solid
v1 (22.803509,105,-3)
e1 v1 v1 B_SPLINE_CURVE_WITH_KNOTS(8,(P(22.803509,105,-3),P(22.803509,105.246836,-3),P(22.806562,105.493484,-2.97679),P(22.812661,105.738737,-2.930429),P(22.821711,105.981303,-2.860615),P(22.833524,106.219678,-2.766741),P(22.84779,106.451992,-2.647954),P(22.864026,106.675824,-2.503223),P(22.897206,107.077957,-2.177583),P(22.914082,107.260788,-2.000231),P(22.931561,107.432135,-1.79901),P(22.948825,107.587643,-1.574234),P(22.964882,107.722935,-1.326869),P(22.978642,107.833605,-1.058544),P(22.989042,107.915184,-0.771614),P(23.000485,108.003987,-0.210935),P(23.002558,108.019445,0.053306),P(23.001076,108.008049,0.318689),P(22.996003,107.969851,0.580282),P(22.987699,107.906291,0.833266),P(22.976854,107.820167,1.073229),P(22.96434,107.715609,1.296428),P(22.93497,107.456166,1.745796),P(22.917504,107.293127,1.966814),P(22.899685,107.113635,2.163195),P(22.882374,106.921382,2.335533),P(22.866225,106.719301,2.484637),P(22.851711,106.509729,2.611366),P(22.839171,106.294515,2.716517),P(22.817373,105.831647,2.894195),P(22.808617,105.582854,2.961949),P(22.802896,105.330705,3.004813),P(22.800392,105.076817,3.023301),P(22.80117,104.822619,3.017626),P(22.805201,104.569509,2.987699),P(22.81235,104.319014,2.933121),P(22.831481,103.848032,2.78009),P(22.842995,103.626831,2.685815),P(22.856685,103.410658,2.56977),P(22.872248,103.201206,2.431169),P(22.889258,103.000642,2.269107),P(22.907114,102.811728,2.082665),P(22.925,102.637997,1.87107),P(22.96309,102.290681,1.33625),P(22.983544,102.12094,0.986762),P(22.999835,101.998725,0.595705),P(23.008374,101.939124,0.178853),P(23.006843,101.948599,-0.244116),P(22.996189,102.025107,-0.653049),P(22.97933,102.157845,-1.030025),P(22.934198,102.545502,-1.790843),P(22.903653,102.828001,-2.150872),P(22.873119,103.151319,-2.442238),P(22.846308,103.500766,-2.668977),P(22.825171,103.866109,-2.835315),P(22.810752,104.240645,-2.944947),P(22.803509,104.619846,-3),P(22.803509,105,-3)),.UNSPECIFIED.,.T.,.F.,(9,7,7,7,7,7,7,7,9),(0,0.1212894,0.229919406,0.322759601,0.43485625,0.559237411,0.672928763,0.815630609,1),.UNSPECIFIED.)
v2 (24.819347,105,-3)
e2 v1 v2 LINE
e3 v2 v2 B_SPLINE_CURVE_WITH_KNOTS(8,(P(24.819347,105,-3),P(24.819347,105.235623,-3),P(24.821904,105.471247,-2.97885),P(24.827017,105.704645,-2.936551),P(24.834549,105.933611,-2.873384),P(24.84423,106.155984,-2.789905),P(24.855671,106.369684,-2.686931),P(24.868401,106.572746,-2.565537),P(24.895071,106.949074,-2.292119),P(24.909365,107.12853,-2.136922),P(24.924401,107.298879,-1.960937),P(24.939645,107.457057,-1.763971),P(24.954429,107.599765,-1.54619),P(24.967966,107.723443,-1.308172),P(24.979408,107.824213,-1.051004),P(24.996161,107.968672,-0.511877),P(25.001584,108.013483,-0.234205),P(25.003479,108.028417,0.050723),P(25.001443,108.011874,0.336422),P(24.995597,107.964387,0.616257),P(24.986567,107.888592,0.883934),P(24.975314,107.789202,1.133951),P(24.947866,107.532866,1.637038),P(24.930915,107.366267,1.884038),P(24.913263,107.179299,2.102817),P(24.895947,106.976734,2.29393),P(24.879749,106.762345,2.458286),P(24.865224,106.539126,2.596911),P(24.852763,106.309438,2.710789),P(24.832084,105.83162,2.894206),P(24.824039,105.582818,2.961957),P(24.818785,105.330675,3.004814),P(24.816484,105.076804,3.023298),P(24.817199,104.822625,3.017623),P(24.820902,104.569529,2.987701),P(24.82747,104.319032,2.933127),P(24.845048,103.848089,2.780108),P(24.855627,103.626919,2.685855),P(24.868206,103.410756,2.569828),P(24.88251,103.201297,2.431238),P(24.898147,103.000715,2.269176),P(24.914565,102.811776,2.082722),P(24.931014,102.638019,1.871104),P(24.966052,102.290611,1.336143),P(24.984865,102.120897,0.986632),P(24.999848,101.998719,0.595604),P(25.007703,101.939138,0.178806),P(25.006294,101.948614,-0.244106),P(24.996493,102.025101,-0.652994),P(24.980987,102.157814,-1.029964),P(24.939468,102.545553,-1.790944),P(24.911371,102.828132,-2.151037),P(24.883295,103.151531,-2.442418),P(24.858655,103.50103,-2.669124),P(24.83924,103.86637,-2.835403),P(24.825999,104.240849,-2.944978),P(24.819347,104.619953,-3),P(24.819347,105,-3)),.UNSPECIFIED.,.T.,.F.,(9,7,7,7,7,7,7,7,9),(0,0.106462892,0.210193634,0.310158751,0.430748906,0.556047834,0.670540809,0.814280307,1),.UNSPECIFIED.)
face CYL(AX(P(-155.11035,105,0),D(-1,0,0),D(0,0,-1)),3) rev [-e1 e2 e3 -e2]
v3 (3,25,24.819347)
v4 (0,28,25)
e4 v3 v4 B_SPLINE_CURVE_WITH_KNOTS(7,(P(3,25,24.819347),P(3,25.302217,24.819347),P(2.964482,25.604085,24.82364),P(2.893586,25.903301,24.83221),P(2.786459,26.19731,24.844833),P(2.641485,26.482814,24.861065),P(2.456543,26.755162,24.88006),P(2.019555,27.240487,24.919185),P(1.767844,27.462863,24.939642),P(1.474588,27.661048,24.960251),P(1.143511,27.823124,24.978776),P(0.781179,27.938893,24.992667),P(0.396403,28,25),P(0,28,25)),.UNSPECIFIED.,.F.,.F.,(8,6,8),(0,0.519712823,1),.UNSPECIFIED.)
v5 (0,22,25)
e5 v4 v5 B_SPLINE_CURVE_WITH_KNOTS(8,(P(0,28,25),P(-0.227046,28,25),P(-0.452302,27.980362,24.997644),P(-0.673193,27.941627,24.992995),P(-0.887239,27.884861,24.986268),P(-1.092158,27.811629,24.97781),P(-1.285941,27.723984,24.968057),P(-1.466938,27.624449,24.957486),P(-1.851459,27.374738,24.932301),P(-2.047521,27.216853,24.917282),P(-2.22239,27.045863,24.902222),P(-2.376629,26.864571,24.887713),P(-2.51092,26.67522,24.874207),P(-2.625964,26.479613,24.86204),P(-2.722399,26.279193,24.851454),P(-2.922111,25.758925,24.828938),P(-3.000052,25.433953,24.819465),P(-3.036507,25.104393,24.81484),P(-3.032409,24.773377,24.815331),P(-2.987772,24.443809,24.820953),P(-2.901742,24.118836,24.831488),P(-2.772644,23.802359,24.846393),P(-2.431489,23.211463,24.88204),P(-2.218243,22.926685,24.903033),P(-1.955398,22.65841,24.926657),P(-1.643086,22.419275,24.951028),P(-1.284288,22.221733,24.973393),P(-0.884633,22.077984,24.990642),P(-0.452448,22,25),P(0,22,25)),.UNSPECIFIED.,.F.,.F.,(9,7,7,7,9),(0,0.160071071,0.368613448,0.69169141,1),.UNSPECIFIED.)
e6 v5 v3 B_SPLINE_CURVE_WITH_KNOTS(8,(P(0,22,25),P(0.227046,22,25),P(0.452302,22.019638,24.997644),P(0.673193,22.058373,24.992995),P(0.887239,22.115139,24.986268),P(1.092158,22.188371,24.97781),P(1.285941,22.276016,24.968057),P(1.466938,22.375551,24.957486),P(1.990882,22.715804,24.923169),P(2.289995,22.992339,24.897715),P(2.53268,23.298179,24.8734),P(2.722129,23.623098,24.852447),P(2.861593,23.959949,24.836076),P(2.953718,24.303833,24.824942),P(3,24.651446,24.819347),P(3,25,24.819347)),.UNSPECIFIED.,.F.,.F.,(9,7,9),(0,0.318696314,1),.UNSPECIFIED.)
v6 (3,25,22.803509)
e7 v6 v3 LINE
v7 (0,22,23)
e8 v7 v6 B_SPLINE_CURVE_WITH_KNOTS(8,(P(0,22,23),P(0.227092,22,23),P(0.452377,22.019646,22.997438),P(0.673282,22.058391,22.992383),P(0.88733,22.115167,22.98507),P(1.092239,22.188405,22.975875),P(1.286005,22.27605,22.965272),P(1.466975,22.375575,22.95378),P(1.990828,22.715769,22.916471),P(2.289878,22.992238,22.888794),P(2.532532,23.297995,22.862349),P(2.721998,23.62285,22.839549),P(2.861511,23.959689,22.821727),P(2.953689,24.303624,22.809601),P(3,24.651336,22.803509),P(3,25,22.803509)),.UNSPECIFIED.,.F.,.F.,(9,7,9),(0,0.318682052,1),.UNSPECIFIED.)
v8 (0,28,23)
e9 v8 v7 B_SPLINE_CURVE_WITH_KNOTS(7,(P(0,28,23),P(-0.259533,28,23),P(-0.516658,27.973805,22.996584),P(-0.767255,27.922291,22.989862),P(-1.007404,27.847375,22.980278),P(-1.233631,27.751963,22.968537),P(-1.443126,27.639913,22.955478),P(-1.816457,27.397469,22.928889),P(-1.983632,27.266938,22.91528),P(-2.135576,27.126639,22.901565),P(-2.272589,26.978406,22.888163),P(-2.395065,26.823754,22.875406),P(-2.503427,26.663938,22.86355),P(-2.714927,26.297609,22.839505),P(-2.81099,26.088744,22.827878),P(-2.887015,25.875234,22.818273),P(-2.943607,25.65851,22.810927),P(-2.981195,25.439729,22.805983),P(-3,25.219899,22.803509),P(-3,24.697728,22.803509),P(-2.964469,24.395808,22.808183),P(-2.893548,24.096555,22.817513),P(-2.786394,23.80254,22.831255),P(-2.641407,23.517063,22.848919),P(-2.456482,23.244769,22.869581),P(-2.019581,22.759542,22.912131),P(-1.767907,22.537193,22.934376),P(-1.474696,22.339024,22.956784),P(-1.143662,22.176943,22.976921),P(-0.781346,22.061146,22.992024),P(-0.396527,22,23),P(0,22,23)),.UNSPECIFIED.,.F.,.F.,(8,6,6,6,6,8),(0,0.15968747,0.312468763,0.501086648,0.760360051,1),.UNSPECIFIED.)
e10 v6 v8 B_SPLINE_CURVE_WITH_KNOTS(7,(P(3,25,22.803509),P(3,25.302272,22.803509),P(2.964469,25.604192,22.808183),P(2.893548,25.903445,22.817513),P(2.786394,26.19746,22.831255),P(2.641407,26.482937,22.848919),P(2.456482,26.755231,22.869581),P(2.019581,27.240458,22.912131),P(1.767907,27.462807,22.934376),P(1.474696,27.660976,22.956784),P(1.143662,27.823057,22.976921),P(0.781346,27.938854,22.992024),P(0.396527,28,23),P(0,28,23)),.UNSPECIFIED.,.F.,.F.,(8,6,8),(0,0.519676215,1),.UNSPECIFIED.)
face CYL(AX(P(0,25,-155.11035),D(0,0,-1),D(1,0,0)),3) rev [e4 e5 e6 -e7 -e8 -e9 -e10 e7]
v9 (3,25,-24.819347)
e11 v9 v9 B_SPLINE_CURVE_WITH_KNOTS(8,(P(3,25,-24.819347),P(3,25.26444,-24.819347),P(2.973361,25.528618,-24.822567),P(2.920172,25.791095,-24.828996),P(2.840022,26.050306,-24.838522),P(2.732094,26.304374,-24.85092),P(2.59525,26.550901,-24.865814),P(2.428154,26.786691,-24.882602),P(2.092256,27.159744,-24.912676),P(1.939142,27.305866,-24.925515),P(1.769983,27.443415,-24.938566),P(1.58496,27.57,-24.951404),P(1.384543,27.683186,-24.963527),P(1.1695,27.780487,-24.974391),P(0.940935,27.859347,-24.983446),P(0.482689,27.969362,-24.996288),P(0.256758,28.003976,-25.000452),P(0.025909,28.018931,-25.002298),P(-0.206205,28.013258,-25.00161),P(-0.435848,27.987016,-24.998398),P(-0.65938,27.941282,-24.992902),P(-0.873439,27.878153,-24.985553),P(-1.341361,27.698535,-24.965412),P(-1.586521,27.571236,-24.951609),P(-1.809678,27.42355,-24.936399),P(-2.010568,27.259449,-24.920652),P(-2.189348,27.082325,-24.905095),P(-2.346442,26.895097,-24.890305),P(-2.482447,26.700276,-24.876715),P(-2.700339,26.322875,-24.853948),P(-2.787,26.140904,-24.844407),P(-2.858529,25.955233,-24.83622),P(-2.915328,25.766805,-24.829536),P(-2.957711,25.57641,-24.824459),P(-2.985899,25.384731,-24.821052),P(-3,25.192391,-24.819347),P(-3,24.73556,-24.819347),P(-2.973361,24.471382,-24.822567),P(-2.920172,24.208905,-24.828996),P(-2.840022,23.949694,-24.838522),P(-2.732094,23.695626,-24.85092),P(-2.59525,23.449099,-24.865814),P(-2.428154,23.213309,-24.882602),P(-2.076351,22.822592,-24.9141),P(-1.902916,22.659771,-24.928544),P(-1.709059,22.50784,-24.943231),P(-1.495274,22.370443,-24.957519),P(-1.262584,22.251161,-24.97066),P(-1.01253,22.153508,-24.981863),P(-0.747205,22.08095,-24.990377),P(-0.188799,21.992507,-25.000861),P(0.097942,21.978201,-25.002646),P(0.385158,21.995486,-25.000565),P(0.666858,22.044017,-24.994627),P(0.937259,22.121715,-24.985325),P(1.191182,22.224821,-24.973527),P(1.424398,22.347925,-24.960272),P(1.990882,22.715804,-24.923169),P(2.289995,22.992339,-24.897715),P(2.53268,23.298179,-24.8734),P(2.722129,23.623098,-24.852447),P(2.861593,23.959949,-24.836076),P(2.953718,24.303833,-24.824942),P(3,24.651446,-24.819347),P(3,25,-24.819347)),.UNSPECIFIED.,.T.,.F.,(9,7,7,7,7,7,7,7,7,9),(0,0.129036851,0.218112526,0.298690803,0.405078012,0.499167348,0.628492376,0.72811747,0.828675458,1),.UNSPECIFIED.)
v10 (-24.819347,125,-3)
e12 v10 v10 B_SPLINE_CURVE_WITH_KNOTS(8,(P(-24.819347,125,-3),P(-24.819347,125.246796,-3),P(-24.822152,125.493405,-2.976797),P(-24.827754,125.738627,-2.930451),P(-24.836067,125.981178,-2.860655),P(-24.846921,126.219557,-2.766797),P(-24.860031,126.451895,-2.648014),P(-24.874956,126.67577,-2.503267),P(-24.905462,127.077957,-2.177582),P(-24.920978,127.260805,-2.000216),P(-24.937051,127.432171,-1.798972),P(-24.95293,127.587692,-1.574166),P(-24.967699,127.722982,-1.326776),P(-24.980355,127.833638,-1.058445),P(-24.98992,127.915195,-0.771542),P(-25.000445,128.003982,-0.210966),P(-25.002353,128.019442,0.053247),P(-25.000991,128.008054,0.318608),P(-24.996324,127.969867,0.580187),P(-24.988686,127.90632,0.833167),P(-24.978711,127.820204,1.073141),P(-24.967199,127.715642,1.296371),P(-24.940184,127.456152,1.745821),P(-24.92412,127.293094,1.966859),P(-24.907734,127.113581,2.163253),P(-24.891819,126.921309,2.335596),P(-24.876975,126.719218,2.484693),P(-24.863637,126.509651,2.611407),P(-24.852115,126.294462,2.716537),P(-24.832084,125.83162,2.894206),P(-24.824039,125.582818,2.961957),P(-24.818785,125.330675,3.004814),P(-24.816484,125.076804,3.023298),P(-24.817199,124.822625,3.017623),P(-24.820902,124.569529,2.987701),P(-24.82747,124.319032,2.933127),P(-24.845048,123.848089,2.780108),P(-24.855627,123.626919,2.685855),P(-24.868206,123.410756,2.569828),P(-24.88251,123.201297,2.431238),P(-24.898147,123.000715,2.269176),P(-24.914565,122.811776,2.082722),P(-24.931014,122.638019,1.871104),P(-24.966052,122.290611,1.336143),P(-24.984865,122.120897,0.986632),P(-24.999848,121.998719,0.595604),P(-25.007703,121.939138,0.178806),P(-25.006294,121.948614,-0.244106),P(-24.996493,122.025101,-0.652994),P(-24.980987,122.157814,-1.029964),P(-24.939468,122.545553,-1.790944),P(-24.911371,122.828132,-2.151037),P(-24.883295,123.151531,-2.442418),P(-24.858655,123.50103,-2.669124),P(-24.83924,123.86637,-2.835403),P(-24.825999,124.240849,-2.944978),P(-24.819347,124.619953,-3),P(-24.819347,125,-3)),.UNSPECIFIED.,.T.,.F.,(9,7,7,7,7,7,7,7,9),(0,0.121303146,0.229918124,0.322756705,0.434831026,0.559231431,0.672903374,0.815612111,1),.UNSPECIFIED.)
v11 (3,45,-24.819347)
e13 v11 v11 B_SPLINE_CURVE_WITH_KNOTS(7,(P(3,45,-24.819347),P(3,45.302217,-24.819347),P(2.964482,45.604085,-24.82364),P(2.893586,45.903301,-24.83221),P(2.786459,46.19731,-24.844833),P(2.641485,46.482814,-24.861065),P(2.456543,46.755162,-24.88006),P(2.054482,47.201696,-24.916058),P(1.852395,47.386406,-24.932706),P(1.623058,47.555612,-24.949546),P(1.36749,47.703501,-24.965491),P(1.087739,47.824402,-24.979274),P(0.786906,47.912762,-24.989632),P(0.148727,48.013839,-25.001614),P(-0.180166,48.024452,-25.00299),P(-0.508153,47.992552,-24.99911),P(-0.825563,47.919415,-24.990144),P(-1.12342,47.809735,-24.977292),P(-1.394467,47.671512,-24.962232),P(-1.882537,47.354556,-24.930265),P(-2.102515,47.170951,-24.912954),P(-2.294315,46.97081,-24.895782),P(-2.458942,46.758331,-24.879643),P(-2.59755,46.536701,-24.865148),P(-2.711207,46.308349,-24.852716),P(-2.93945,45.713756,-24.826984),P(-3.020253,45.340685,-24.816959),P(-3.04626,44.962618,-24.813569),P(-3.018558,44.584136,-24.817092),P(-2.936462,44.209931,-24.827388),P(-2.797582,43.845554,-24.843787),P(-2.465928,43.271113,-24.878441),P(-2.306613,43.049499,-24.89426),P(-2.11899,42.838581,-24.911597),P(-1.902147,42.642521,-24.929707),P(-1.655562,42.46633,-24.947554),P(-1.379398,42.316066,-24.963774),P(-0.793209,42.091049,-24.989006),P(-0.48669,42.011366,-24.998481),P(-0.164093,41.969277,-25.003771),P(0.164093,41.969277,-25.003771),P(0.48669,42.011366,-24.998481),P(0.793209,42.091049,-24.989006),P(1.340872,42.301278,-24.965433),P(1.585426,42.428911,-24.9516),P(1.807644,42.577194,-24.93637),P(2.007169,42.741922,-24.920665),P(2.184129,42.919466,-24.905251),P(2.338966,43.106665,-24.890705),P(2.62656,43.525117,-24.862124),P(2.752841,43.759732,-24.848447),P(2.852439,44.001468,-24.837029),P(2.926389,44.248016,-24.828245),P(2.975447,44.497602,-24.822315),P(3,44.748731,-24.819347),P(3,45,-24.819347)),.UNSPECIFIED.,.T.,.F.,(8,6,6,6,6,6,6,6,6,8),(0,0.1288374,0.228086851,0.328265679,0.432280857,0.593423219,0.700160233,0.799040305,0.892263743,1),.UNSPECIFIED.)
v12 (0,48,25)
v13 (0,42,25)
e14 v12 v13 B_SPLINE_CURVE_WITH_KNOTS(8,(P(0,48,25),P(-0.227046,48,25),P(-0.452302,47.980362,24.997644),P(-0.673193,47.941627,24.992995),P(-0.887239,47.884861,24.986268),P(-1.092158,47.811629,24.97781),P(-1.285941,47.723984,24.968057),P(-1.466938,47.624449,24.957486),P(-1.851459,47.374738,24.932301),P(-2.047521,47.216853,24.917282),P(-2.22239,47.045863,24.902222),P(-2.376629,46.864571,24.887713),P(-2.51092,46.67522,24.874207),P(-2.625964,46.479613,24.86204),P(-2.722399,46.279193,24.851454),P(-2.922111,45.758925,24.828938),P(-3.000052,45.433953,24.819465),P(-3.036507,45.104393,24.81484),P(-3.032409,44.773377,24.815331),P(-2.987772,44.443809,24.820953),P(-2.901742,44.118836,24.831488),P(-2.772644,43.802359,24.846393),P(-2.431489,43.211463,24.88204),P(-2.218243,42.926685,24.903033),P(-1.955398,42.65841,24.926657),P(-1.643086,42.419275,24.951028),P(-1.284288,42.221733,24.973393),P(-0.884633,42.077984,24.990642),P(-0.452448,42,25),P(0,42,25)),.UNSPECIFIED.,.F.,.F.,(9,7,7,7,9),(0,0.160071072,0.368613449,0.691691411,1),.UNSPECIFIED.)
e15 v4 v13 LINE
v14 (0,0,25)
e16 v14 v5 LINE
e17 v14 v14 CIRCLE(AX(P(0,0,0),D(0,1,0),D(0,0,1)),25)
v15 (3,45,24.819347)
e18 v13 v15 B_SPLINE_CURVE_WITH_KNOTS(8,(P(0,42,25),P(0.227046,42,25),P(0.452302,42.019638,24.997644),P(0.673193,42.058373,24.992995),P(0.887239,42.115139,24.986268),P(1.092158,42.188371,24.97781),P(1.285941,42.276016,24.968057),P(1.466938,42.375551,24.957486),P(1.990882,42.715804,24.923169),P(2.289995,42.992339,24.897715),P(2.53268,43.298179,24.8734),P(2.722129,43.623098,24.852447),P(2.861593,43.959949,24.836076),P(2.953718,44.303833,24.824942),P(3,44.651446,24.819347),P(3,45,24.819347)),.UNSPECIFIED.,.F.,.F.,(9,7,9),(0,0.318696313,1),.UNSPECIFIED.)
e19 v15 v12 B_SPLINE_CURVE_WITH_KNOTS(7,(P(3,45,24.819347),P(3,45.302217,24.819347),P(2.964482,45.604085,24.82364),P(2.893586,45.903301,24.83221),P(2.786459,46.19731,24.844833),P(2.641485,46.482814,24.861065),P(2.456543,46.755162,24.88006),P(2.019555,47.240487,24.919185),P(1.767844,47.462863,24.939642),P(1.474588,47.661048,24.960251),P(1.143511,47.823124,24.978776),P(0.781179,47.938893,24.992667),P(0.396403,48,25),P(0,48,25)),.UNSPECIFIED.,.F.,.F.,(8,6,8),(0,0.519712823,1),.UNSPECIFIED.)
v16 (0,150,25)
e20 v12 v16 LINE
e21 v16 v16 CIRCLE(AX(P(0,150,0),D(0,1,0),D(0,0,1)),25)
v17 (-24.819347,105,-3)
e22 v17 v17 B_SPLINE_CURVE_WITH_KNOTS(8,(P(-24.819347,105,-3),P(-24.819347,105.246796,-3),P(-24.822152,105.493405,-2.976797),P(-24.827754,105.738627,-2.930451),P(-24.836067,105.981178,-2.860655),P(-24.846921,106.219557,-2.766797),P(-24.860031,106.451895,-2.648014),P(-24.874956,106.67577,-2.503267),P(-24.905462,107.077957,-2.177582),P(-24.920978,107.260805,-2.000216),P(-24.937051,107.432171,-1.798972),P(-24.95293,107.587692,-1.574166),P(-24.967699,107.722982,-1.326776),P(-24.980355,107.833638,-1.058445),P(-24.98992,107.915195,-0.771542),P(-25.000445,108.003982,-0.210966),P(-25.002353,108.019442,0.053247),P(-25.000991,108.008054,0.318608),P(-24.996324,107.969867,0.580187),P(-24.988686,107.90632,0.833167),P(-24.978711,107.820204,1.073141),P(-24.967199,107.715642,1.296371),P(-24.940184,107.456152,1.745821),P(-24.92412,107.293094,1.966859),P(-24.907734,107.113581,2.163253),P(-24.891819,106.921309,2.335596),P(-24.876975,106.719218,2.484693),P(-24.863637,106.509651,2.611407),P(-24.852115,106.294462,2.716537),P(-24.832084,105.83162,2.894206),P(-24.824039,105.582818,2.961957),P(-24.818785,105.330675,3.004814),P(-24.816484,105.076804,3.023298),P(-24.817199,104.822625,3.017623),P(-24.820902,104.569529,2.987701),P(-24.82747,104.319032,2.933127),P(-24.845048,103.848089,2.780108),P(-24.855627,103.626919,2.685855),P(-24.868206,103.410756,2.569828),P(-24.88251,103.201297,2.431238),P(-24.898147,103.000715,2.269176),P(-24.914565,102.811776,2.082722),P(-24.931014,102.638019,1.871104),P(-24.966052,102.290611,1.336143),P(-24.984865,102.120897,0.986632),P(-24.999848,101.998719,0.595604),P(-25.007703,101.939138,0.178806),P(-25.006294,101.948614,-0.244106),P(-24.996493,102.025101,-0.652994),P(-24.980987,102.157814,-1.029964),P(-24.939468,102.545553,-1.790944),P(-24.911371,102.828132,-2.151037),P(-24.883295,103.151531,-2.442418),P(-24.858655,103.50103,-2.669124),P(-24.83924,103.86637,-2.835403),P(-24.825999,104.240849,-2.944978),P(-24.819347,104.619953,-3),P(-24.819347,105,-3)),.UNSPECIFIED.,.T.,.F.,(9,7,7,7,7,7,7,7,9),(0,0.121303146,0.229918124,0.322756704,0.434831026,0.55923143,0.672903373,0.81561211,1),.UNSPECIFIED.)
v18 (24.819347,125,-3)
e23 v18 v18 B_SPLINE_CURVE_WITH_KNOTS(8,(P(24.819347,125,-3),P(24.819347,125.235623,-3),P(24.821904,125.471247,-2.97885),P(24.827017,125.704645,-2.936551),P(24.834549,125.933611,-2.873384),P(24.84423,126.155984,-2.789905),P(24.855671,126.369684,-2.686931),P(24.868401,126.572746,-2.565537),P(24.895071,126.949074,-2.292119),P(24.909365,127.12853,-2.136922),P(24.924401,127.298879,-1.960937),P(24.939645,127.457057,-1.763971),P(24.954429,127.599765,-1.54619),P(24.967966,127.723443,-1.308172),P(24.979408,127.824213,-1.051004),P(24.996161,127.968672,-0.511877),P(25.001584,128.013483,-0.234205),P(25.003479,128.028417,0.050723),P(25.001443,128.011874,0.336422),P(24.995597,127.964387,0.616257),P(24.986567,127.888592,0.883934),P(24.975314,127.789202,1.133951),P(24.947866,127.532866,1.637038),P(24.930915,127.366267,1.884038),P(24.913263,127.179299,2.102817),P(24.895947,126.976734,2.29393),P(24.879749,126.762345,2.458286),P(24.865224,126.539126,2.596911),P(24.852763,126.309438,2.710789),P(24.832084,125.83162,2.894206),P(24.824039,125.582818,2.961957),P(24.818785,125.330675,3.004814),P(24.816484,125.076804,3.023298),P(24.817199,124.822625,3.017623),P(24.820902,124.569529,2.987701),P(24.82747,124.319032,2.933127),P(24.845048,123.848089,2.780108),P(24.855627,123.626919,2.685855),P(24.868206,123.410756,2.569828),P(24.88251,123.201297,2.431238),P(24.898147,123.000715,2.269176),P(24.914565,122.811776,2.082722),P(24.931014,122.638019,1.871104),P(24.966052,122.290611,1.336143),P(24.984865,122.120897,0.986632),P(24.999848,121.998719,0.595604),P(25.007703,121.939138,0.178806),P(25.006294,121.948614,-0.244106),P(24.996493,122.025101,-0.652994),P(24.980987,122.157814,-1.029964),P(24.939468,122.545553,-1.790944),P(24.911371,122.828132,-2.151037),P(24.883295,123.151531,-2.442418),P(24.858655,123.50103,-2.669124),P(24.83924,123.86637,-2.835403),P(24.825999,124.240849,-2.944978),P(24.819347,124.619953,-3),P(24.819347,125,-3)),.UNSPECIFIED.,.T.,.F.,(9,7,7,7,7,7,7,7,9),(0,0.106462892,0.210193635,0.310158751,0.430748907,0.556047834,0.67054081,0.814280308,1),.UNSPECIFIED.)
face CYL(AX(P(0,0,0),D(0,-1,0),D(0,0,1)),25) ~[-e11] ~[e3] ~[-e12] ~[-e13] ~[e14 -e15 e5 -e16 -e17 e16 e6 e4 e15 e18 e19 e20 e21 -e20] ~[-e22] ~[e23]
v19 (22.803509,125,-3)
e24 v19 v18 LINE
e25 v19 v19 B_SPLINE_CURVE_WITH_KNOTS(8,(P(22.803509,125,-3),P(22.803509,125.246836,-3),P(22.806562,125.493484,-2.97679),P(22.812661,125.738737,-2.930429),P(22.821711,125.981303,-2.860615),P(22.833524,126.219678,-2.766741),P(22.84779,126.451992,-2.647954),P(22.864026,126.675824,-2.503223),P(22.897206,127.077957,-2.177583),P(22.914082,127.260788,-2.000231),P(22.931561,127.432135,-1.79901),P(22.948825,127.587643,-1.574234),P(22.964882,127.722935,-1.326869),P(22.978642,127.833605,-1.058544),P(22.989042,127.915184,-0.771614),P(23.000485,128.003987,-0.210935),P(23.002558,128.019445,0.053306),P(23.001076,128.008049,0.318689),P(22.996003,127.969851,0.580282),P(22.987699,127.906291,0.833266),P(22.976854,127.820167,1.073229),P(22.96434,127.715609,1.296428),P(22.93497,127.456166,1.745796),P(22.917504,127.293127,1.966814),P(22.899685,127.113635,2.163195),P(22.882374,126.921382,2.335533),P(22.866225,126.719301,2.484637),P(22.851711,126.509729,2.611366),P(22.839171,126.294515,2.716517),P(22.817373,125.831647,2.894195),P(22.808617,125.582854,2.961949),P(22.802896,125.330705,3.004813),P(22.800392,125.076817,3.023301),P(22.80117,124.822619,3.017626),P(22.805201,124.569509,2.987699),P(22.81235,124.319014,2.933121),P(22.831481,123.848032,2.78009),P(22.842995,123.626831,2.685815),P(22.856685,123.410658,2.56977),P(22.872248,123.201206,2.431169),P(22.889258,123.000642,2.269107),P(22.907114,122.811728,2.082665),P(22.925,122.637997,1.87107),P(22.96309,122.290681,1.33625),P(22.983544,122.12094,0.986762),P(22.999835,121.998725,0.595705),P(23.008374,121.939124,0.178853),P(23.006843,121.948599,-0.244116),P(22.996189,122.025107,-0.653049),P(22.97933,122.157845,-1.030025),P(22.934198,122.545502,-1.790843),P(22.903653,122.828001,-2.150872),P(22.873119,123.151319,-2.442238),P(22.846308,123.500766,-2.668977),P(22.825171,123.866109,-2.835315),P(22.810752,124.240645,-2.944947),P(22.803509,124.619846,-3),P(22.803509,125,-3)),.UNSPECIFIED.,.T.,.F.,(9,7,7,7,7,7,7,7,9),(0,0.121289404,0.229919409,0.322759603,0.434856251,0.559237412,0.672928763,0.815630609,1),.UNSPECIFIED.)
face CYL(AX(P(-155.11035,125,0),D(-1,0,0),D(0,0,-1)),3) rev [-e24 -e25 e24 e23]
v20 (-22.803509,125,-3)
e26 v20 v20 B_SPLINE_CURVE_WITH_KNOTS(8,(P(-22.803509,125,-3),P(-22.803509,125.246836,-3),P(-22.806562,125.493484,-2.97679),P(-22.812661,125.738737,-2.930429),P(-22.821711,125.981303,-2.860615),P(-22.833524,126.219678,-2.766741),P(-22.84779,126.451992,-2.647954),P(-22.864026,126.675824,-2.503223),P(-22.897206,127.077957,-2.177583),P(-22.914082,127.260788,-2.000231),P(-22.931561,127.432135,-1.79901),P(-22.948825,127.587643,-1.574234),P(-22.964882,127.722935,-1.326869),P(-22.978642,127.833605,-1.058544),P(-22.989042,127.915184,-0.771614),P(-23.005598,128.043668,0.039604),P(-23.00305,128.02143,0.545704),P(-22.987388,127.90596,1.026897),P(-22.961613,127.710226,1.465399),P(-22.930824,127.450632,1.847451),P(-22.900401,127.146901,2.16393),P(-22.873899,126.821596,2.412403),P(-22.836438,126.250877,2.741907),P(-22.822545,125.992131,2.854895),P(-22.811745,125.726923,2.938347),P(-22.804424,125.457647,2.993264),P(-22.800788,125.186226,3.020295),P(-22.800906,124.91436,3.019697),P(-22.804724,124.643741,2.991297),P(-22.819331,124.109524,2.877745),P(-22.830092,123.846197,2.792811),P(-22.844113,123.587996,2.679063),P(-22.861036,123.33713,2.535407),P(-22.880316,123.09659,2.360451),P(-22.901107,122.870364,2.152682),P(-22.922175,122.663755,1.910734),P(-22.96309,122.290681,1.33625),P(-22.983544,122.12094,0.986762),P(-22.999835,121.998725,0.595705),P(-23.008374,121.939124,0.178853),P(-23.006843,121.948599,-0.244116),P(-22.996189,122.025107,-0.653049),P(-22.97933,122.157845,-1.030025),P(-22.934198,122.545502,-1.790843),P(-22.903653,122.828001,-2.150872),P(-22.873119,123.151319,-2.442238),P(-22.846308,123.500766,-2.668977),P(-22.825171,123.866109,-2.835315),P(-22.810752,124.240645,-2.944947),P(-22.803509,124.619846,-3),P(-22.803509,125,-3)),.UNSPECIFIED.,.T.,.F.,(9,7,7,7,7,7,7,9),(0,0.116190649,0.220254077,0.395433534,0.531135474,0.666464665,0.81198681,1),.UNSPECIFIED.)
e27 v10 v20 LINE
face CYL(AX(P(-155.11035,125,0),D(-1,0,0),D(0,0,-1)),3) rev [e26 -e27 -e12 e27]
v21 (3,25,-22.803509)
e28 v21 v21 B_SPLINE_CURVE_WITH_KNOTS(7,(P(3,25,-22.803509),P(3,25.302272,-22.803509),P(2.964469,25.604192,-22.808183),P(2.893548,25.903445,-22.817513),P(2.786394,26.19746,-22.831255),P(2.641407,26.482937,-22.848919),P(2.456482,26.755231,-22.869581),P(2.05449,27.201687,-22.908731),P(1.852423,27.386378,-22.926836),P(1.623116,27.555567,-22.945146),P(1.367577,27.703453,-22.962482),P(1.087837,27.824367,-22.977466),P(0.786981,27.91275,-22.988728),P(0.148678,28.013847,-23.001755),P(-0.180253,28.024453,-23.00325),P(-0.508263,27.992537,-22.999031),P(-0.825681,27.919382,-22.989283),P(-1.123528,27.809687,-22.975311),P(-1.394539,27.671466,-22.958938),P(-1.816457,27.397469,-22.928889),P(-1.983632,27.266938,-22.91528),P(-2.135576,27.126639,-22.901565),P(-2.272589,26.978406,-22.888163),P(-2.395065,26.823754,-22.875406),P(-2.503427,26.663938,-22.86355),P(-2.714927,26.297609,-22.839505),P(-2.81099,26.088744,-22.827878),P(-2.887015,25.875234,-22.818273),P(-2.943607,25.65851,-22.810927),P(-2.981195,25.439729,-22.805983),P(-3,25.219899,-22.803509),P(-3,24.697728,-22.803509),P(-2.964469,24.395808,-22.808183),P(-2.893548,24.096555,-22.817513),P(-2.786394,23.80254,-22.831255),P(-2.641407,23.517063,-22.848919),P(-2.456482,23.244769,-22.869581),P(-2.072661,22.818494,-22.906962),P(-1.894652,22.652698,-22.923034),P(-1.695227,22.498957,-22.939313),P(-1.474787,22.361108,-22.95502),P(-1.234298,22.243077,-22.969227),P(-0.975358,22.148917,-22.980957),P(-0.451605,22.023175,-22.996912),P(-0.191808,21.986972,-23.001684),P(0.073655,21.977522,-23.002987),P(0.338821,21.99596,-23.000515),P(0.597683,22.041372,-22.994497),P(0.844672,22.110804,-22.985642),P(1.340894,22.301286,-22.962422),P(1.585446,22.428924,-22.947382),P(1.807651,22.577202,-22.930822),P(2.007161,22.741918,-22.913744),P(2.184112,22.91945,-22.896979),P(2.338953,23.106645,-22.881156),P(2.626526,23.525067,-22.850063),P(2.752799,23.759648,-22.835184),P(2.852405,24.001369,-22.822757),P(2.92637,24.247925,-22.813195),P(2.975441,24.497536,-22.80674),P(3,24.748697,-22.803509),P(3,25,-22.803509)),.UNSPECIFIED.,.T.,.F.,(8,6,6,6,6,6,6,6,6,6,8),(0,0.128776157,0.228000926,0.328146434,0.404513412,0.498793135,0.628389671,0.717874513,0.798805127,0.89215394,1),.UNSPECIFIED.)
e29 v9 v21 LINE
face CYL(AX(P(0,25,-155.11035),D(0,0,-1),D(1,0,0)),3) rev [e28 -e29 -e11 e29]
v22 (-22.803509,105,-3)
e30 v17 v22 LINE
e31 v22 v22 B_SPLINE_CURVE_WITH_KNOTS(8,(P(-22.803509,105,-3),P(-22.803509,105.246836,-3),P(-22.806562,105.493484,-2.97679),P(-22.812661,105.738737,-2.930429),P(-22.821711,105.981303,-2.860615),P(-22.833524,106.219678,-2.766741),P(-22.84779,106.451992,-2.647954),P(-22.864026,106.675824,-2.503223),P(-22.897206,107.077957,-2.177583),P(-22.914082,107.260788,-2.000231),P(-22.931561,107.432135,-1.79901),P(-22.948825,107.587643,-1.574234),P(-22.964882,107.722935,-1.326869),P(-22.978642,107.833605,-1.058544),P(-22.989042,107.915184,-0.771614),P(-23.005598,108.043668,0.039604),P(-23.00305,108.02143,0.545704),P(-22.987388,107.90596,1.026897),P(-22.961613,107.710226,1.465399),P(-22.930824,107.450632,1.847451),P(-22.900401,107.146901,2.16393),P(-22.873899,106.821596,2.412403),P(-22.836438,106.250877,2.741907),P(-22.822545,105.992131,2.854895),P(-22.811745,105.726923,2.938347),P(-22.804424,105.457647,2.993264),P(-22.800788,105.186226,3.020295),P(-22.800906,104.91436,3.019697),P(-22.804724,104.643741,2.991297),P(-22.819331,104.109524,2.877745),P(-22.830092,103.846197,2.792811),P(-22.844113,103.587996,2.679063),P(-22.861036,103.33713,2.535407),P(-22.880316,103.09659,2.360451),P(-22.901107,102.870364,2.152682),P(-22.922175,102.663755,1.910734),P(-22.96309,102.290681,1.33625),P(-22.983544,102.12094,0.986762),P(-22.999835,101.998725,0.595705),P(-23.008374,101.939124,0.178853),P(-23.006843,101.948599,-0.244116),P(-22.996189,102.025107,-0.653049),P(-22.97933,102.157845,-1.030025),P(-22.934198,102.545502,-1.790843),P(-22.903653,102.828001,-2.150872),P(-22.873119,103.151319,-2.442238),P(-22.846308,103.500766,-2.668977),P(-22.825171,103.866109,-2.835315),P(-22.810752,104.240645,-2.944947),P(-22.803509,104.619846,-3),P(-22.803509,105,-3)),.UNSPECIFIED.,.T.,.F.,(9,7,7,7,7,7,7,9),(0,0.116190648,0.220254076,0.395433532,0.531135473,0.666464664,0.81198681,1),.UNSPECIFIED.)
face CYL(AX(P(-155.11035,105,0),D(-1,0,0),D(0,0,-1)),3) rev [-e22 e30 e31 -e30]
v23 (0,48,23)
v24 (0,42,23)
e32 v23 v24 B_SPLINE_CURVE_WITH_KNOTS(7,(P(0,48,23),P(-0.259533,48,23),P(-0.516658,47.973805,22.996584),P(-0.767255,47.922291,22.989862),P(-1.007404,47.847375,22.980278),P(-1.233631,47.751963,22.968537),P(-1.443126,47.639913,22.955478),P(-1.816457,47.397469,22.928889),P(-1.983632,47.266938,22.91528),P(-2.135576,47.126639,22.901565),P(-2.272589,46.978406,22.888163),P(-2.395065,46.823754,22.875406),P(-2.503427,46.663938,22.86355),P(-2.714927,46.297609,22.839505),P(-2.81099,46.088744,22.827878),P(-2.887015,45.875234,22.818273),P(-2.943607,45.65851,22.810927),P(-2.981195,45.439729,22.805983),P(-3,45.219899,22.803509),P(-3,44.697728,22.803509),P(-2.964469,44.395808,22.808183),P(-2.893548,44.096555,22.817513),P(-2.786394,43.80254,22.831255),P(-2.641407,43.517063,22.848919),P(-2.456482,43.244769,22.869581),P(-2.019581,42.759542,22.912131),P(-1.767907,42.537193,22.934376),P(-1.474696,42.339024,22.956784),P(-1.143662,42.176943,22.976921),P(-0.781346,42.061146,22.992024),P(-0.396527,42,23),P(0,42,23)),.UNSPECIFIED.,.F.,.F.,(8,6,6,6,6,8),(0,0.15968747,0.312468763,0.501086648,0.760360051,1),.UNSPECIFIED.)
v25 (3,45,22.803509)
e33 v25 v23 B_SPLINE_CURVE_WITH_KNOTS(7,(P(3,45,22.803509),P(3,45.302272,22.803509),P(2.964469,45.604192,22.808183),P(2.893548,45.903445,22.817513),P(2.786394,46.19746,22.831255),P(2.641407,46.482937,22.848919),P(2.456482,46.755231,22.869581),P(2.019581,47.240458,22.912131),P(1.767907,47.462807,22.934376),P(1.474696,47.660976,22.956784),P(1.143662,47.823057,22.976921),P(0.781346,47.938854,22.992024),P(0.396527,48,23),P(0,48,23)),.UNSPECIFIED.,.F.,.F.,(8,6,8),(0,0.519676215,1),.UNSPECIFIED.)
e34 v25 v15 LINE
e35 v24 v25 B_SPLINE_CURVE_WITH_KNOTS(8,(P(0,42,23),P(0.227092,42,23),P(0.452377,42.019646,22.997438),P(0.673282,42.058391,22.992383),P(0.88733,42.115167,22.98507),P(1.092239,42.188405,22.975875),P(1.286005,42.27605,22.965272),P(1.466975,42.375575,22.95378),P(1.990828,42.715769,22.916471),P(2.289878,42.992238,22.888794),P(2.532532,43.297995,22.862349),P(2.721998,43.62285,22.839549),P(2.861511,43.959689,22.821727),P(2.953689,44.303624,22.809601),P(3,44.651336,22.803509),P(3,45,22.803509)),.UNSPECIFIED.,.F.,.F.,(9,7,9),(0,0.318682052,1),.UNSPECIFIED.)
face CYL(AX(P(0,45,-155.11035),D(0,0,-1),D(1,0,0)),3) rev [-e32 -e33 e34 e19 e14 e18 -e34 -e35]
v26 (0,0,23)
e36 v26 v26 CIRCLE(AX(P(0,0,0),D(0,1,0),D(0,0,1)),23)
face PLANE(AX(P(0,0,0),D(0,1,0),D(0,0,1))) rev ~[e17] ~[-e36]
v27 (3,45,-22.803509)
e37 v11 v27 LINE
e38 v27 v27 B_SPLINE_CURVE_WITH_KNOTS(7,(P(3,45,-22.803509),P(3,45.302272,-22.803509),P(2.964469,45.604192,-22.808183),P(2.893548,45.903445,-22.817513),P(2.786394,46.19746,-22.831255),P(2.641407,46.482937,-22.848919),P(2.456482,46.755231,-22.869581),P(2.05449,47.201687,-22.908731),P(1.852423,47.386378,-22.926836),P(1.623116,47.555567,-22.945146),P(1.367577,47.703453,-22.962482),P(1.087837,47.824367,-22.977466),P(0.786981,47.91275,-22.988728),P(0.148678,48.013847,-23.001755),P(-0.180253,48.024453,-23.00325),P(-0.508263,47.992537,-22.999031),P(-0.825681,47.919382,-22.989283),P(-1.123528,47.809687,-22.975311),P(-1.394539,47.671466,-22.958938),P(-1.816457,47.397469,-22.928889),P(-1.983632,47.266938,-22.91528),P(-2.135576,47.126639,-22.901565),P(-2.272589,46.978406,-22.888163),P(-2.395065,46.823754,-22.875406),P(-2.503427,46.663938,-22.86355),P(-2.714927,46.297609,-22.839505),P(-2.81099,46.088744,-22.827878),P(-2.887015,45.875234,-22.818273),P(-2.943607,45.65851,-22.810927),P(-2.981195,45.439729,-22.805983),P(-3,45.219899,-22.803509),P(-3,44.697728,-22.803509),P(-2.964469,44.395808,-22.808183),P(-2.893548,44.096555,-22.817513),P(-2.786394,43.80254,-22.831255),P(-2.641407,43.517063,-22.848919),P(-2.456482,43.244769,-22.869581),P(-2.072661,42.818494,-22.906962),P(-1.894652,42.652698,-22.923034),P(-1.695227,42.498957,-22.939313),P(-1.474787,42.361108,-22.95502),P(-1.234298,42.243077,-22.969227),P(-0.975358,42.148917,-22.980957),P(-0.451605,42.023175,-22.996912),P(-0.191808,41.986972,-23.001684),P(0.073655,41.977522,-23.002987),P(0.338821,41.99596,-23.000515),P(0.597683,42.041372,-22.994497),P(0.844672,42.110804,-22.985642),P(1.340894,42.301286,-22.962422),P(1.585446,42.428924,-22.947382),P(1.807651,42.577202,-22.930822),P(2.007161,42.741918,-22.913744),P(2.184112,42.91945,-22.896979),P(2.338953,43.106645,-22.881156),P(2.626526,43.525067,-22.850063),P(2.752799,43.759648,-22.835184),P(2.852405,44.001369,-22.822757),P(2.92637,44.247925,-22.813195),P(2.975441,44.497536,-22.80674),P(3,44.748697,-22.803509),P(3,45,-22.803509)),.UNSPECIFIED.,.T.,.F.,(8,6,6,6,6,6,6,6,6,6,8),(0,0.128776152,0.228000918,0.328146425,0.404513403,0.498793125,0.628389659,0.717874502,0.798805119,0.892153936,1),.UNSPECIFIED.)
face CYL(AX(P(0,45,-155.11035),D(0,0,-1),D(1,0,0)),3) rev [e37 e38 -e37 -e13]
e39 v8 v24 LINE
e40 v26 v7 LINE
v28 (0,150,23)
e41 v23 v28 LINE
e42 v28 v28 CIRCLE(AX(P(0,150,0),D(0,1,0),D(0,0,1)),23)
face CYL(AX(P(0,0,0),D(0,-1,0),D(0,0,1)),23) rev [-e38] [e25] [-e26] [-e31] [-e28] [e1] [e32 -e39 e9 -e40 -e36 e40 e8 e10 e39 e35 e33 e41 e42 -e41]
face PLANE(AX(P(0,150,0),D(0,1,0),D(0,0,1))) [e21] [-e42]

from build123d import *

# Parameters (mm, degrees)
SKETCH_1_R               = 25
SKETCH_1_R_2             = 23
EXTRUDE_1_DEPTH          = 150
CUT_EXTRUDE_1_DEPTH      = 155.110350074
CUT_EXTRUDE_1_DEPTH_BACK = 155.110350074
SKETCH_2_R               = 3
CUT_EXTRUDE_2_DEPTH      = 155.110350204
CUT_EXTRUDE_2_DEPTH_BACK = 155.110350204
SKETCH_3_R               = 3


with BuildPart() as part:
    # 草图1 → 凸台-拉伸1 (new body)
    with BuildSketch(Plane(origin=(0, 0, 0), x_dir=(1, 0, 0), z_dir=(0, 1, 0))):
        with Locations(Location((0, 0, 0), (0, 0, 270))):
            Circle(SKETCH_1_R)
        with Locations(Location((0, 0, 0), (0, 0, 270))):
            Circle(SKETCH_1_R_2, mode=Mode.SUBTRACT)
    extrude(amount=EXTRUDE_1_DEPTH)

    # 草图2 → 切除-拉伸1 (cut, two sides: drawn at the far end of the back side and taken through both)
    with BuildSketch(Plane.XY.offset(-CUT_EXTRUDE_1_DEPTH_BACK)):
        with Locations((0, 45)):
            Circle(SKETCH_2_R)
        with Locations((0, 25)):
            Circle(SKETCH_2_R)
    extrude(amount=CUT_EXTRUDE_1_DEPTH + CUT_EXTRUDE_1_DEPTH_BACK, mode=Mode.SUBTRACT)

    # 草图3 → 切除-拉伸2 (cut, two sides: drawn at the far end of the back side and taken through both)
    with BuildSketch(Plane(origin=(0, 0, 0), x_dir=(0, 0, -1), z_dir=(1, 0, 0)).offset(-CUT_EXTRUDE_2_DEPTH_BACK)):
        with Locations((0, 125)):
            Circle(SKETCH_3_R)
        with Locations((0, 105)):
            Circle(SKETCH_3_R)
    extrude(amount=CUT_EXTRUDE_2_DEPTH + CUT_EXTRUDE_2_DEPTH_BACK, mode=Mode.SUBTRACT)


solid = part.part
